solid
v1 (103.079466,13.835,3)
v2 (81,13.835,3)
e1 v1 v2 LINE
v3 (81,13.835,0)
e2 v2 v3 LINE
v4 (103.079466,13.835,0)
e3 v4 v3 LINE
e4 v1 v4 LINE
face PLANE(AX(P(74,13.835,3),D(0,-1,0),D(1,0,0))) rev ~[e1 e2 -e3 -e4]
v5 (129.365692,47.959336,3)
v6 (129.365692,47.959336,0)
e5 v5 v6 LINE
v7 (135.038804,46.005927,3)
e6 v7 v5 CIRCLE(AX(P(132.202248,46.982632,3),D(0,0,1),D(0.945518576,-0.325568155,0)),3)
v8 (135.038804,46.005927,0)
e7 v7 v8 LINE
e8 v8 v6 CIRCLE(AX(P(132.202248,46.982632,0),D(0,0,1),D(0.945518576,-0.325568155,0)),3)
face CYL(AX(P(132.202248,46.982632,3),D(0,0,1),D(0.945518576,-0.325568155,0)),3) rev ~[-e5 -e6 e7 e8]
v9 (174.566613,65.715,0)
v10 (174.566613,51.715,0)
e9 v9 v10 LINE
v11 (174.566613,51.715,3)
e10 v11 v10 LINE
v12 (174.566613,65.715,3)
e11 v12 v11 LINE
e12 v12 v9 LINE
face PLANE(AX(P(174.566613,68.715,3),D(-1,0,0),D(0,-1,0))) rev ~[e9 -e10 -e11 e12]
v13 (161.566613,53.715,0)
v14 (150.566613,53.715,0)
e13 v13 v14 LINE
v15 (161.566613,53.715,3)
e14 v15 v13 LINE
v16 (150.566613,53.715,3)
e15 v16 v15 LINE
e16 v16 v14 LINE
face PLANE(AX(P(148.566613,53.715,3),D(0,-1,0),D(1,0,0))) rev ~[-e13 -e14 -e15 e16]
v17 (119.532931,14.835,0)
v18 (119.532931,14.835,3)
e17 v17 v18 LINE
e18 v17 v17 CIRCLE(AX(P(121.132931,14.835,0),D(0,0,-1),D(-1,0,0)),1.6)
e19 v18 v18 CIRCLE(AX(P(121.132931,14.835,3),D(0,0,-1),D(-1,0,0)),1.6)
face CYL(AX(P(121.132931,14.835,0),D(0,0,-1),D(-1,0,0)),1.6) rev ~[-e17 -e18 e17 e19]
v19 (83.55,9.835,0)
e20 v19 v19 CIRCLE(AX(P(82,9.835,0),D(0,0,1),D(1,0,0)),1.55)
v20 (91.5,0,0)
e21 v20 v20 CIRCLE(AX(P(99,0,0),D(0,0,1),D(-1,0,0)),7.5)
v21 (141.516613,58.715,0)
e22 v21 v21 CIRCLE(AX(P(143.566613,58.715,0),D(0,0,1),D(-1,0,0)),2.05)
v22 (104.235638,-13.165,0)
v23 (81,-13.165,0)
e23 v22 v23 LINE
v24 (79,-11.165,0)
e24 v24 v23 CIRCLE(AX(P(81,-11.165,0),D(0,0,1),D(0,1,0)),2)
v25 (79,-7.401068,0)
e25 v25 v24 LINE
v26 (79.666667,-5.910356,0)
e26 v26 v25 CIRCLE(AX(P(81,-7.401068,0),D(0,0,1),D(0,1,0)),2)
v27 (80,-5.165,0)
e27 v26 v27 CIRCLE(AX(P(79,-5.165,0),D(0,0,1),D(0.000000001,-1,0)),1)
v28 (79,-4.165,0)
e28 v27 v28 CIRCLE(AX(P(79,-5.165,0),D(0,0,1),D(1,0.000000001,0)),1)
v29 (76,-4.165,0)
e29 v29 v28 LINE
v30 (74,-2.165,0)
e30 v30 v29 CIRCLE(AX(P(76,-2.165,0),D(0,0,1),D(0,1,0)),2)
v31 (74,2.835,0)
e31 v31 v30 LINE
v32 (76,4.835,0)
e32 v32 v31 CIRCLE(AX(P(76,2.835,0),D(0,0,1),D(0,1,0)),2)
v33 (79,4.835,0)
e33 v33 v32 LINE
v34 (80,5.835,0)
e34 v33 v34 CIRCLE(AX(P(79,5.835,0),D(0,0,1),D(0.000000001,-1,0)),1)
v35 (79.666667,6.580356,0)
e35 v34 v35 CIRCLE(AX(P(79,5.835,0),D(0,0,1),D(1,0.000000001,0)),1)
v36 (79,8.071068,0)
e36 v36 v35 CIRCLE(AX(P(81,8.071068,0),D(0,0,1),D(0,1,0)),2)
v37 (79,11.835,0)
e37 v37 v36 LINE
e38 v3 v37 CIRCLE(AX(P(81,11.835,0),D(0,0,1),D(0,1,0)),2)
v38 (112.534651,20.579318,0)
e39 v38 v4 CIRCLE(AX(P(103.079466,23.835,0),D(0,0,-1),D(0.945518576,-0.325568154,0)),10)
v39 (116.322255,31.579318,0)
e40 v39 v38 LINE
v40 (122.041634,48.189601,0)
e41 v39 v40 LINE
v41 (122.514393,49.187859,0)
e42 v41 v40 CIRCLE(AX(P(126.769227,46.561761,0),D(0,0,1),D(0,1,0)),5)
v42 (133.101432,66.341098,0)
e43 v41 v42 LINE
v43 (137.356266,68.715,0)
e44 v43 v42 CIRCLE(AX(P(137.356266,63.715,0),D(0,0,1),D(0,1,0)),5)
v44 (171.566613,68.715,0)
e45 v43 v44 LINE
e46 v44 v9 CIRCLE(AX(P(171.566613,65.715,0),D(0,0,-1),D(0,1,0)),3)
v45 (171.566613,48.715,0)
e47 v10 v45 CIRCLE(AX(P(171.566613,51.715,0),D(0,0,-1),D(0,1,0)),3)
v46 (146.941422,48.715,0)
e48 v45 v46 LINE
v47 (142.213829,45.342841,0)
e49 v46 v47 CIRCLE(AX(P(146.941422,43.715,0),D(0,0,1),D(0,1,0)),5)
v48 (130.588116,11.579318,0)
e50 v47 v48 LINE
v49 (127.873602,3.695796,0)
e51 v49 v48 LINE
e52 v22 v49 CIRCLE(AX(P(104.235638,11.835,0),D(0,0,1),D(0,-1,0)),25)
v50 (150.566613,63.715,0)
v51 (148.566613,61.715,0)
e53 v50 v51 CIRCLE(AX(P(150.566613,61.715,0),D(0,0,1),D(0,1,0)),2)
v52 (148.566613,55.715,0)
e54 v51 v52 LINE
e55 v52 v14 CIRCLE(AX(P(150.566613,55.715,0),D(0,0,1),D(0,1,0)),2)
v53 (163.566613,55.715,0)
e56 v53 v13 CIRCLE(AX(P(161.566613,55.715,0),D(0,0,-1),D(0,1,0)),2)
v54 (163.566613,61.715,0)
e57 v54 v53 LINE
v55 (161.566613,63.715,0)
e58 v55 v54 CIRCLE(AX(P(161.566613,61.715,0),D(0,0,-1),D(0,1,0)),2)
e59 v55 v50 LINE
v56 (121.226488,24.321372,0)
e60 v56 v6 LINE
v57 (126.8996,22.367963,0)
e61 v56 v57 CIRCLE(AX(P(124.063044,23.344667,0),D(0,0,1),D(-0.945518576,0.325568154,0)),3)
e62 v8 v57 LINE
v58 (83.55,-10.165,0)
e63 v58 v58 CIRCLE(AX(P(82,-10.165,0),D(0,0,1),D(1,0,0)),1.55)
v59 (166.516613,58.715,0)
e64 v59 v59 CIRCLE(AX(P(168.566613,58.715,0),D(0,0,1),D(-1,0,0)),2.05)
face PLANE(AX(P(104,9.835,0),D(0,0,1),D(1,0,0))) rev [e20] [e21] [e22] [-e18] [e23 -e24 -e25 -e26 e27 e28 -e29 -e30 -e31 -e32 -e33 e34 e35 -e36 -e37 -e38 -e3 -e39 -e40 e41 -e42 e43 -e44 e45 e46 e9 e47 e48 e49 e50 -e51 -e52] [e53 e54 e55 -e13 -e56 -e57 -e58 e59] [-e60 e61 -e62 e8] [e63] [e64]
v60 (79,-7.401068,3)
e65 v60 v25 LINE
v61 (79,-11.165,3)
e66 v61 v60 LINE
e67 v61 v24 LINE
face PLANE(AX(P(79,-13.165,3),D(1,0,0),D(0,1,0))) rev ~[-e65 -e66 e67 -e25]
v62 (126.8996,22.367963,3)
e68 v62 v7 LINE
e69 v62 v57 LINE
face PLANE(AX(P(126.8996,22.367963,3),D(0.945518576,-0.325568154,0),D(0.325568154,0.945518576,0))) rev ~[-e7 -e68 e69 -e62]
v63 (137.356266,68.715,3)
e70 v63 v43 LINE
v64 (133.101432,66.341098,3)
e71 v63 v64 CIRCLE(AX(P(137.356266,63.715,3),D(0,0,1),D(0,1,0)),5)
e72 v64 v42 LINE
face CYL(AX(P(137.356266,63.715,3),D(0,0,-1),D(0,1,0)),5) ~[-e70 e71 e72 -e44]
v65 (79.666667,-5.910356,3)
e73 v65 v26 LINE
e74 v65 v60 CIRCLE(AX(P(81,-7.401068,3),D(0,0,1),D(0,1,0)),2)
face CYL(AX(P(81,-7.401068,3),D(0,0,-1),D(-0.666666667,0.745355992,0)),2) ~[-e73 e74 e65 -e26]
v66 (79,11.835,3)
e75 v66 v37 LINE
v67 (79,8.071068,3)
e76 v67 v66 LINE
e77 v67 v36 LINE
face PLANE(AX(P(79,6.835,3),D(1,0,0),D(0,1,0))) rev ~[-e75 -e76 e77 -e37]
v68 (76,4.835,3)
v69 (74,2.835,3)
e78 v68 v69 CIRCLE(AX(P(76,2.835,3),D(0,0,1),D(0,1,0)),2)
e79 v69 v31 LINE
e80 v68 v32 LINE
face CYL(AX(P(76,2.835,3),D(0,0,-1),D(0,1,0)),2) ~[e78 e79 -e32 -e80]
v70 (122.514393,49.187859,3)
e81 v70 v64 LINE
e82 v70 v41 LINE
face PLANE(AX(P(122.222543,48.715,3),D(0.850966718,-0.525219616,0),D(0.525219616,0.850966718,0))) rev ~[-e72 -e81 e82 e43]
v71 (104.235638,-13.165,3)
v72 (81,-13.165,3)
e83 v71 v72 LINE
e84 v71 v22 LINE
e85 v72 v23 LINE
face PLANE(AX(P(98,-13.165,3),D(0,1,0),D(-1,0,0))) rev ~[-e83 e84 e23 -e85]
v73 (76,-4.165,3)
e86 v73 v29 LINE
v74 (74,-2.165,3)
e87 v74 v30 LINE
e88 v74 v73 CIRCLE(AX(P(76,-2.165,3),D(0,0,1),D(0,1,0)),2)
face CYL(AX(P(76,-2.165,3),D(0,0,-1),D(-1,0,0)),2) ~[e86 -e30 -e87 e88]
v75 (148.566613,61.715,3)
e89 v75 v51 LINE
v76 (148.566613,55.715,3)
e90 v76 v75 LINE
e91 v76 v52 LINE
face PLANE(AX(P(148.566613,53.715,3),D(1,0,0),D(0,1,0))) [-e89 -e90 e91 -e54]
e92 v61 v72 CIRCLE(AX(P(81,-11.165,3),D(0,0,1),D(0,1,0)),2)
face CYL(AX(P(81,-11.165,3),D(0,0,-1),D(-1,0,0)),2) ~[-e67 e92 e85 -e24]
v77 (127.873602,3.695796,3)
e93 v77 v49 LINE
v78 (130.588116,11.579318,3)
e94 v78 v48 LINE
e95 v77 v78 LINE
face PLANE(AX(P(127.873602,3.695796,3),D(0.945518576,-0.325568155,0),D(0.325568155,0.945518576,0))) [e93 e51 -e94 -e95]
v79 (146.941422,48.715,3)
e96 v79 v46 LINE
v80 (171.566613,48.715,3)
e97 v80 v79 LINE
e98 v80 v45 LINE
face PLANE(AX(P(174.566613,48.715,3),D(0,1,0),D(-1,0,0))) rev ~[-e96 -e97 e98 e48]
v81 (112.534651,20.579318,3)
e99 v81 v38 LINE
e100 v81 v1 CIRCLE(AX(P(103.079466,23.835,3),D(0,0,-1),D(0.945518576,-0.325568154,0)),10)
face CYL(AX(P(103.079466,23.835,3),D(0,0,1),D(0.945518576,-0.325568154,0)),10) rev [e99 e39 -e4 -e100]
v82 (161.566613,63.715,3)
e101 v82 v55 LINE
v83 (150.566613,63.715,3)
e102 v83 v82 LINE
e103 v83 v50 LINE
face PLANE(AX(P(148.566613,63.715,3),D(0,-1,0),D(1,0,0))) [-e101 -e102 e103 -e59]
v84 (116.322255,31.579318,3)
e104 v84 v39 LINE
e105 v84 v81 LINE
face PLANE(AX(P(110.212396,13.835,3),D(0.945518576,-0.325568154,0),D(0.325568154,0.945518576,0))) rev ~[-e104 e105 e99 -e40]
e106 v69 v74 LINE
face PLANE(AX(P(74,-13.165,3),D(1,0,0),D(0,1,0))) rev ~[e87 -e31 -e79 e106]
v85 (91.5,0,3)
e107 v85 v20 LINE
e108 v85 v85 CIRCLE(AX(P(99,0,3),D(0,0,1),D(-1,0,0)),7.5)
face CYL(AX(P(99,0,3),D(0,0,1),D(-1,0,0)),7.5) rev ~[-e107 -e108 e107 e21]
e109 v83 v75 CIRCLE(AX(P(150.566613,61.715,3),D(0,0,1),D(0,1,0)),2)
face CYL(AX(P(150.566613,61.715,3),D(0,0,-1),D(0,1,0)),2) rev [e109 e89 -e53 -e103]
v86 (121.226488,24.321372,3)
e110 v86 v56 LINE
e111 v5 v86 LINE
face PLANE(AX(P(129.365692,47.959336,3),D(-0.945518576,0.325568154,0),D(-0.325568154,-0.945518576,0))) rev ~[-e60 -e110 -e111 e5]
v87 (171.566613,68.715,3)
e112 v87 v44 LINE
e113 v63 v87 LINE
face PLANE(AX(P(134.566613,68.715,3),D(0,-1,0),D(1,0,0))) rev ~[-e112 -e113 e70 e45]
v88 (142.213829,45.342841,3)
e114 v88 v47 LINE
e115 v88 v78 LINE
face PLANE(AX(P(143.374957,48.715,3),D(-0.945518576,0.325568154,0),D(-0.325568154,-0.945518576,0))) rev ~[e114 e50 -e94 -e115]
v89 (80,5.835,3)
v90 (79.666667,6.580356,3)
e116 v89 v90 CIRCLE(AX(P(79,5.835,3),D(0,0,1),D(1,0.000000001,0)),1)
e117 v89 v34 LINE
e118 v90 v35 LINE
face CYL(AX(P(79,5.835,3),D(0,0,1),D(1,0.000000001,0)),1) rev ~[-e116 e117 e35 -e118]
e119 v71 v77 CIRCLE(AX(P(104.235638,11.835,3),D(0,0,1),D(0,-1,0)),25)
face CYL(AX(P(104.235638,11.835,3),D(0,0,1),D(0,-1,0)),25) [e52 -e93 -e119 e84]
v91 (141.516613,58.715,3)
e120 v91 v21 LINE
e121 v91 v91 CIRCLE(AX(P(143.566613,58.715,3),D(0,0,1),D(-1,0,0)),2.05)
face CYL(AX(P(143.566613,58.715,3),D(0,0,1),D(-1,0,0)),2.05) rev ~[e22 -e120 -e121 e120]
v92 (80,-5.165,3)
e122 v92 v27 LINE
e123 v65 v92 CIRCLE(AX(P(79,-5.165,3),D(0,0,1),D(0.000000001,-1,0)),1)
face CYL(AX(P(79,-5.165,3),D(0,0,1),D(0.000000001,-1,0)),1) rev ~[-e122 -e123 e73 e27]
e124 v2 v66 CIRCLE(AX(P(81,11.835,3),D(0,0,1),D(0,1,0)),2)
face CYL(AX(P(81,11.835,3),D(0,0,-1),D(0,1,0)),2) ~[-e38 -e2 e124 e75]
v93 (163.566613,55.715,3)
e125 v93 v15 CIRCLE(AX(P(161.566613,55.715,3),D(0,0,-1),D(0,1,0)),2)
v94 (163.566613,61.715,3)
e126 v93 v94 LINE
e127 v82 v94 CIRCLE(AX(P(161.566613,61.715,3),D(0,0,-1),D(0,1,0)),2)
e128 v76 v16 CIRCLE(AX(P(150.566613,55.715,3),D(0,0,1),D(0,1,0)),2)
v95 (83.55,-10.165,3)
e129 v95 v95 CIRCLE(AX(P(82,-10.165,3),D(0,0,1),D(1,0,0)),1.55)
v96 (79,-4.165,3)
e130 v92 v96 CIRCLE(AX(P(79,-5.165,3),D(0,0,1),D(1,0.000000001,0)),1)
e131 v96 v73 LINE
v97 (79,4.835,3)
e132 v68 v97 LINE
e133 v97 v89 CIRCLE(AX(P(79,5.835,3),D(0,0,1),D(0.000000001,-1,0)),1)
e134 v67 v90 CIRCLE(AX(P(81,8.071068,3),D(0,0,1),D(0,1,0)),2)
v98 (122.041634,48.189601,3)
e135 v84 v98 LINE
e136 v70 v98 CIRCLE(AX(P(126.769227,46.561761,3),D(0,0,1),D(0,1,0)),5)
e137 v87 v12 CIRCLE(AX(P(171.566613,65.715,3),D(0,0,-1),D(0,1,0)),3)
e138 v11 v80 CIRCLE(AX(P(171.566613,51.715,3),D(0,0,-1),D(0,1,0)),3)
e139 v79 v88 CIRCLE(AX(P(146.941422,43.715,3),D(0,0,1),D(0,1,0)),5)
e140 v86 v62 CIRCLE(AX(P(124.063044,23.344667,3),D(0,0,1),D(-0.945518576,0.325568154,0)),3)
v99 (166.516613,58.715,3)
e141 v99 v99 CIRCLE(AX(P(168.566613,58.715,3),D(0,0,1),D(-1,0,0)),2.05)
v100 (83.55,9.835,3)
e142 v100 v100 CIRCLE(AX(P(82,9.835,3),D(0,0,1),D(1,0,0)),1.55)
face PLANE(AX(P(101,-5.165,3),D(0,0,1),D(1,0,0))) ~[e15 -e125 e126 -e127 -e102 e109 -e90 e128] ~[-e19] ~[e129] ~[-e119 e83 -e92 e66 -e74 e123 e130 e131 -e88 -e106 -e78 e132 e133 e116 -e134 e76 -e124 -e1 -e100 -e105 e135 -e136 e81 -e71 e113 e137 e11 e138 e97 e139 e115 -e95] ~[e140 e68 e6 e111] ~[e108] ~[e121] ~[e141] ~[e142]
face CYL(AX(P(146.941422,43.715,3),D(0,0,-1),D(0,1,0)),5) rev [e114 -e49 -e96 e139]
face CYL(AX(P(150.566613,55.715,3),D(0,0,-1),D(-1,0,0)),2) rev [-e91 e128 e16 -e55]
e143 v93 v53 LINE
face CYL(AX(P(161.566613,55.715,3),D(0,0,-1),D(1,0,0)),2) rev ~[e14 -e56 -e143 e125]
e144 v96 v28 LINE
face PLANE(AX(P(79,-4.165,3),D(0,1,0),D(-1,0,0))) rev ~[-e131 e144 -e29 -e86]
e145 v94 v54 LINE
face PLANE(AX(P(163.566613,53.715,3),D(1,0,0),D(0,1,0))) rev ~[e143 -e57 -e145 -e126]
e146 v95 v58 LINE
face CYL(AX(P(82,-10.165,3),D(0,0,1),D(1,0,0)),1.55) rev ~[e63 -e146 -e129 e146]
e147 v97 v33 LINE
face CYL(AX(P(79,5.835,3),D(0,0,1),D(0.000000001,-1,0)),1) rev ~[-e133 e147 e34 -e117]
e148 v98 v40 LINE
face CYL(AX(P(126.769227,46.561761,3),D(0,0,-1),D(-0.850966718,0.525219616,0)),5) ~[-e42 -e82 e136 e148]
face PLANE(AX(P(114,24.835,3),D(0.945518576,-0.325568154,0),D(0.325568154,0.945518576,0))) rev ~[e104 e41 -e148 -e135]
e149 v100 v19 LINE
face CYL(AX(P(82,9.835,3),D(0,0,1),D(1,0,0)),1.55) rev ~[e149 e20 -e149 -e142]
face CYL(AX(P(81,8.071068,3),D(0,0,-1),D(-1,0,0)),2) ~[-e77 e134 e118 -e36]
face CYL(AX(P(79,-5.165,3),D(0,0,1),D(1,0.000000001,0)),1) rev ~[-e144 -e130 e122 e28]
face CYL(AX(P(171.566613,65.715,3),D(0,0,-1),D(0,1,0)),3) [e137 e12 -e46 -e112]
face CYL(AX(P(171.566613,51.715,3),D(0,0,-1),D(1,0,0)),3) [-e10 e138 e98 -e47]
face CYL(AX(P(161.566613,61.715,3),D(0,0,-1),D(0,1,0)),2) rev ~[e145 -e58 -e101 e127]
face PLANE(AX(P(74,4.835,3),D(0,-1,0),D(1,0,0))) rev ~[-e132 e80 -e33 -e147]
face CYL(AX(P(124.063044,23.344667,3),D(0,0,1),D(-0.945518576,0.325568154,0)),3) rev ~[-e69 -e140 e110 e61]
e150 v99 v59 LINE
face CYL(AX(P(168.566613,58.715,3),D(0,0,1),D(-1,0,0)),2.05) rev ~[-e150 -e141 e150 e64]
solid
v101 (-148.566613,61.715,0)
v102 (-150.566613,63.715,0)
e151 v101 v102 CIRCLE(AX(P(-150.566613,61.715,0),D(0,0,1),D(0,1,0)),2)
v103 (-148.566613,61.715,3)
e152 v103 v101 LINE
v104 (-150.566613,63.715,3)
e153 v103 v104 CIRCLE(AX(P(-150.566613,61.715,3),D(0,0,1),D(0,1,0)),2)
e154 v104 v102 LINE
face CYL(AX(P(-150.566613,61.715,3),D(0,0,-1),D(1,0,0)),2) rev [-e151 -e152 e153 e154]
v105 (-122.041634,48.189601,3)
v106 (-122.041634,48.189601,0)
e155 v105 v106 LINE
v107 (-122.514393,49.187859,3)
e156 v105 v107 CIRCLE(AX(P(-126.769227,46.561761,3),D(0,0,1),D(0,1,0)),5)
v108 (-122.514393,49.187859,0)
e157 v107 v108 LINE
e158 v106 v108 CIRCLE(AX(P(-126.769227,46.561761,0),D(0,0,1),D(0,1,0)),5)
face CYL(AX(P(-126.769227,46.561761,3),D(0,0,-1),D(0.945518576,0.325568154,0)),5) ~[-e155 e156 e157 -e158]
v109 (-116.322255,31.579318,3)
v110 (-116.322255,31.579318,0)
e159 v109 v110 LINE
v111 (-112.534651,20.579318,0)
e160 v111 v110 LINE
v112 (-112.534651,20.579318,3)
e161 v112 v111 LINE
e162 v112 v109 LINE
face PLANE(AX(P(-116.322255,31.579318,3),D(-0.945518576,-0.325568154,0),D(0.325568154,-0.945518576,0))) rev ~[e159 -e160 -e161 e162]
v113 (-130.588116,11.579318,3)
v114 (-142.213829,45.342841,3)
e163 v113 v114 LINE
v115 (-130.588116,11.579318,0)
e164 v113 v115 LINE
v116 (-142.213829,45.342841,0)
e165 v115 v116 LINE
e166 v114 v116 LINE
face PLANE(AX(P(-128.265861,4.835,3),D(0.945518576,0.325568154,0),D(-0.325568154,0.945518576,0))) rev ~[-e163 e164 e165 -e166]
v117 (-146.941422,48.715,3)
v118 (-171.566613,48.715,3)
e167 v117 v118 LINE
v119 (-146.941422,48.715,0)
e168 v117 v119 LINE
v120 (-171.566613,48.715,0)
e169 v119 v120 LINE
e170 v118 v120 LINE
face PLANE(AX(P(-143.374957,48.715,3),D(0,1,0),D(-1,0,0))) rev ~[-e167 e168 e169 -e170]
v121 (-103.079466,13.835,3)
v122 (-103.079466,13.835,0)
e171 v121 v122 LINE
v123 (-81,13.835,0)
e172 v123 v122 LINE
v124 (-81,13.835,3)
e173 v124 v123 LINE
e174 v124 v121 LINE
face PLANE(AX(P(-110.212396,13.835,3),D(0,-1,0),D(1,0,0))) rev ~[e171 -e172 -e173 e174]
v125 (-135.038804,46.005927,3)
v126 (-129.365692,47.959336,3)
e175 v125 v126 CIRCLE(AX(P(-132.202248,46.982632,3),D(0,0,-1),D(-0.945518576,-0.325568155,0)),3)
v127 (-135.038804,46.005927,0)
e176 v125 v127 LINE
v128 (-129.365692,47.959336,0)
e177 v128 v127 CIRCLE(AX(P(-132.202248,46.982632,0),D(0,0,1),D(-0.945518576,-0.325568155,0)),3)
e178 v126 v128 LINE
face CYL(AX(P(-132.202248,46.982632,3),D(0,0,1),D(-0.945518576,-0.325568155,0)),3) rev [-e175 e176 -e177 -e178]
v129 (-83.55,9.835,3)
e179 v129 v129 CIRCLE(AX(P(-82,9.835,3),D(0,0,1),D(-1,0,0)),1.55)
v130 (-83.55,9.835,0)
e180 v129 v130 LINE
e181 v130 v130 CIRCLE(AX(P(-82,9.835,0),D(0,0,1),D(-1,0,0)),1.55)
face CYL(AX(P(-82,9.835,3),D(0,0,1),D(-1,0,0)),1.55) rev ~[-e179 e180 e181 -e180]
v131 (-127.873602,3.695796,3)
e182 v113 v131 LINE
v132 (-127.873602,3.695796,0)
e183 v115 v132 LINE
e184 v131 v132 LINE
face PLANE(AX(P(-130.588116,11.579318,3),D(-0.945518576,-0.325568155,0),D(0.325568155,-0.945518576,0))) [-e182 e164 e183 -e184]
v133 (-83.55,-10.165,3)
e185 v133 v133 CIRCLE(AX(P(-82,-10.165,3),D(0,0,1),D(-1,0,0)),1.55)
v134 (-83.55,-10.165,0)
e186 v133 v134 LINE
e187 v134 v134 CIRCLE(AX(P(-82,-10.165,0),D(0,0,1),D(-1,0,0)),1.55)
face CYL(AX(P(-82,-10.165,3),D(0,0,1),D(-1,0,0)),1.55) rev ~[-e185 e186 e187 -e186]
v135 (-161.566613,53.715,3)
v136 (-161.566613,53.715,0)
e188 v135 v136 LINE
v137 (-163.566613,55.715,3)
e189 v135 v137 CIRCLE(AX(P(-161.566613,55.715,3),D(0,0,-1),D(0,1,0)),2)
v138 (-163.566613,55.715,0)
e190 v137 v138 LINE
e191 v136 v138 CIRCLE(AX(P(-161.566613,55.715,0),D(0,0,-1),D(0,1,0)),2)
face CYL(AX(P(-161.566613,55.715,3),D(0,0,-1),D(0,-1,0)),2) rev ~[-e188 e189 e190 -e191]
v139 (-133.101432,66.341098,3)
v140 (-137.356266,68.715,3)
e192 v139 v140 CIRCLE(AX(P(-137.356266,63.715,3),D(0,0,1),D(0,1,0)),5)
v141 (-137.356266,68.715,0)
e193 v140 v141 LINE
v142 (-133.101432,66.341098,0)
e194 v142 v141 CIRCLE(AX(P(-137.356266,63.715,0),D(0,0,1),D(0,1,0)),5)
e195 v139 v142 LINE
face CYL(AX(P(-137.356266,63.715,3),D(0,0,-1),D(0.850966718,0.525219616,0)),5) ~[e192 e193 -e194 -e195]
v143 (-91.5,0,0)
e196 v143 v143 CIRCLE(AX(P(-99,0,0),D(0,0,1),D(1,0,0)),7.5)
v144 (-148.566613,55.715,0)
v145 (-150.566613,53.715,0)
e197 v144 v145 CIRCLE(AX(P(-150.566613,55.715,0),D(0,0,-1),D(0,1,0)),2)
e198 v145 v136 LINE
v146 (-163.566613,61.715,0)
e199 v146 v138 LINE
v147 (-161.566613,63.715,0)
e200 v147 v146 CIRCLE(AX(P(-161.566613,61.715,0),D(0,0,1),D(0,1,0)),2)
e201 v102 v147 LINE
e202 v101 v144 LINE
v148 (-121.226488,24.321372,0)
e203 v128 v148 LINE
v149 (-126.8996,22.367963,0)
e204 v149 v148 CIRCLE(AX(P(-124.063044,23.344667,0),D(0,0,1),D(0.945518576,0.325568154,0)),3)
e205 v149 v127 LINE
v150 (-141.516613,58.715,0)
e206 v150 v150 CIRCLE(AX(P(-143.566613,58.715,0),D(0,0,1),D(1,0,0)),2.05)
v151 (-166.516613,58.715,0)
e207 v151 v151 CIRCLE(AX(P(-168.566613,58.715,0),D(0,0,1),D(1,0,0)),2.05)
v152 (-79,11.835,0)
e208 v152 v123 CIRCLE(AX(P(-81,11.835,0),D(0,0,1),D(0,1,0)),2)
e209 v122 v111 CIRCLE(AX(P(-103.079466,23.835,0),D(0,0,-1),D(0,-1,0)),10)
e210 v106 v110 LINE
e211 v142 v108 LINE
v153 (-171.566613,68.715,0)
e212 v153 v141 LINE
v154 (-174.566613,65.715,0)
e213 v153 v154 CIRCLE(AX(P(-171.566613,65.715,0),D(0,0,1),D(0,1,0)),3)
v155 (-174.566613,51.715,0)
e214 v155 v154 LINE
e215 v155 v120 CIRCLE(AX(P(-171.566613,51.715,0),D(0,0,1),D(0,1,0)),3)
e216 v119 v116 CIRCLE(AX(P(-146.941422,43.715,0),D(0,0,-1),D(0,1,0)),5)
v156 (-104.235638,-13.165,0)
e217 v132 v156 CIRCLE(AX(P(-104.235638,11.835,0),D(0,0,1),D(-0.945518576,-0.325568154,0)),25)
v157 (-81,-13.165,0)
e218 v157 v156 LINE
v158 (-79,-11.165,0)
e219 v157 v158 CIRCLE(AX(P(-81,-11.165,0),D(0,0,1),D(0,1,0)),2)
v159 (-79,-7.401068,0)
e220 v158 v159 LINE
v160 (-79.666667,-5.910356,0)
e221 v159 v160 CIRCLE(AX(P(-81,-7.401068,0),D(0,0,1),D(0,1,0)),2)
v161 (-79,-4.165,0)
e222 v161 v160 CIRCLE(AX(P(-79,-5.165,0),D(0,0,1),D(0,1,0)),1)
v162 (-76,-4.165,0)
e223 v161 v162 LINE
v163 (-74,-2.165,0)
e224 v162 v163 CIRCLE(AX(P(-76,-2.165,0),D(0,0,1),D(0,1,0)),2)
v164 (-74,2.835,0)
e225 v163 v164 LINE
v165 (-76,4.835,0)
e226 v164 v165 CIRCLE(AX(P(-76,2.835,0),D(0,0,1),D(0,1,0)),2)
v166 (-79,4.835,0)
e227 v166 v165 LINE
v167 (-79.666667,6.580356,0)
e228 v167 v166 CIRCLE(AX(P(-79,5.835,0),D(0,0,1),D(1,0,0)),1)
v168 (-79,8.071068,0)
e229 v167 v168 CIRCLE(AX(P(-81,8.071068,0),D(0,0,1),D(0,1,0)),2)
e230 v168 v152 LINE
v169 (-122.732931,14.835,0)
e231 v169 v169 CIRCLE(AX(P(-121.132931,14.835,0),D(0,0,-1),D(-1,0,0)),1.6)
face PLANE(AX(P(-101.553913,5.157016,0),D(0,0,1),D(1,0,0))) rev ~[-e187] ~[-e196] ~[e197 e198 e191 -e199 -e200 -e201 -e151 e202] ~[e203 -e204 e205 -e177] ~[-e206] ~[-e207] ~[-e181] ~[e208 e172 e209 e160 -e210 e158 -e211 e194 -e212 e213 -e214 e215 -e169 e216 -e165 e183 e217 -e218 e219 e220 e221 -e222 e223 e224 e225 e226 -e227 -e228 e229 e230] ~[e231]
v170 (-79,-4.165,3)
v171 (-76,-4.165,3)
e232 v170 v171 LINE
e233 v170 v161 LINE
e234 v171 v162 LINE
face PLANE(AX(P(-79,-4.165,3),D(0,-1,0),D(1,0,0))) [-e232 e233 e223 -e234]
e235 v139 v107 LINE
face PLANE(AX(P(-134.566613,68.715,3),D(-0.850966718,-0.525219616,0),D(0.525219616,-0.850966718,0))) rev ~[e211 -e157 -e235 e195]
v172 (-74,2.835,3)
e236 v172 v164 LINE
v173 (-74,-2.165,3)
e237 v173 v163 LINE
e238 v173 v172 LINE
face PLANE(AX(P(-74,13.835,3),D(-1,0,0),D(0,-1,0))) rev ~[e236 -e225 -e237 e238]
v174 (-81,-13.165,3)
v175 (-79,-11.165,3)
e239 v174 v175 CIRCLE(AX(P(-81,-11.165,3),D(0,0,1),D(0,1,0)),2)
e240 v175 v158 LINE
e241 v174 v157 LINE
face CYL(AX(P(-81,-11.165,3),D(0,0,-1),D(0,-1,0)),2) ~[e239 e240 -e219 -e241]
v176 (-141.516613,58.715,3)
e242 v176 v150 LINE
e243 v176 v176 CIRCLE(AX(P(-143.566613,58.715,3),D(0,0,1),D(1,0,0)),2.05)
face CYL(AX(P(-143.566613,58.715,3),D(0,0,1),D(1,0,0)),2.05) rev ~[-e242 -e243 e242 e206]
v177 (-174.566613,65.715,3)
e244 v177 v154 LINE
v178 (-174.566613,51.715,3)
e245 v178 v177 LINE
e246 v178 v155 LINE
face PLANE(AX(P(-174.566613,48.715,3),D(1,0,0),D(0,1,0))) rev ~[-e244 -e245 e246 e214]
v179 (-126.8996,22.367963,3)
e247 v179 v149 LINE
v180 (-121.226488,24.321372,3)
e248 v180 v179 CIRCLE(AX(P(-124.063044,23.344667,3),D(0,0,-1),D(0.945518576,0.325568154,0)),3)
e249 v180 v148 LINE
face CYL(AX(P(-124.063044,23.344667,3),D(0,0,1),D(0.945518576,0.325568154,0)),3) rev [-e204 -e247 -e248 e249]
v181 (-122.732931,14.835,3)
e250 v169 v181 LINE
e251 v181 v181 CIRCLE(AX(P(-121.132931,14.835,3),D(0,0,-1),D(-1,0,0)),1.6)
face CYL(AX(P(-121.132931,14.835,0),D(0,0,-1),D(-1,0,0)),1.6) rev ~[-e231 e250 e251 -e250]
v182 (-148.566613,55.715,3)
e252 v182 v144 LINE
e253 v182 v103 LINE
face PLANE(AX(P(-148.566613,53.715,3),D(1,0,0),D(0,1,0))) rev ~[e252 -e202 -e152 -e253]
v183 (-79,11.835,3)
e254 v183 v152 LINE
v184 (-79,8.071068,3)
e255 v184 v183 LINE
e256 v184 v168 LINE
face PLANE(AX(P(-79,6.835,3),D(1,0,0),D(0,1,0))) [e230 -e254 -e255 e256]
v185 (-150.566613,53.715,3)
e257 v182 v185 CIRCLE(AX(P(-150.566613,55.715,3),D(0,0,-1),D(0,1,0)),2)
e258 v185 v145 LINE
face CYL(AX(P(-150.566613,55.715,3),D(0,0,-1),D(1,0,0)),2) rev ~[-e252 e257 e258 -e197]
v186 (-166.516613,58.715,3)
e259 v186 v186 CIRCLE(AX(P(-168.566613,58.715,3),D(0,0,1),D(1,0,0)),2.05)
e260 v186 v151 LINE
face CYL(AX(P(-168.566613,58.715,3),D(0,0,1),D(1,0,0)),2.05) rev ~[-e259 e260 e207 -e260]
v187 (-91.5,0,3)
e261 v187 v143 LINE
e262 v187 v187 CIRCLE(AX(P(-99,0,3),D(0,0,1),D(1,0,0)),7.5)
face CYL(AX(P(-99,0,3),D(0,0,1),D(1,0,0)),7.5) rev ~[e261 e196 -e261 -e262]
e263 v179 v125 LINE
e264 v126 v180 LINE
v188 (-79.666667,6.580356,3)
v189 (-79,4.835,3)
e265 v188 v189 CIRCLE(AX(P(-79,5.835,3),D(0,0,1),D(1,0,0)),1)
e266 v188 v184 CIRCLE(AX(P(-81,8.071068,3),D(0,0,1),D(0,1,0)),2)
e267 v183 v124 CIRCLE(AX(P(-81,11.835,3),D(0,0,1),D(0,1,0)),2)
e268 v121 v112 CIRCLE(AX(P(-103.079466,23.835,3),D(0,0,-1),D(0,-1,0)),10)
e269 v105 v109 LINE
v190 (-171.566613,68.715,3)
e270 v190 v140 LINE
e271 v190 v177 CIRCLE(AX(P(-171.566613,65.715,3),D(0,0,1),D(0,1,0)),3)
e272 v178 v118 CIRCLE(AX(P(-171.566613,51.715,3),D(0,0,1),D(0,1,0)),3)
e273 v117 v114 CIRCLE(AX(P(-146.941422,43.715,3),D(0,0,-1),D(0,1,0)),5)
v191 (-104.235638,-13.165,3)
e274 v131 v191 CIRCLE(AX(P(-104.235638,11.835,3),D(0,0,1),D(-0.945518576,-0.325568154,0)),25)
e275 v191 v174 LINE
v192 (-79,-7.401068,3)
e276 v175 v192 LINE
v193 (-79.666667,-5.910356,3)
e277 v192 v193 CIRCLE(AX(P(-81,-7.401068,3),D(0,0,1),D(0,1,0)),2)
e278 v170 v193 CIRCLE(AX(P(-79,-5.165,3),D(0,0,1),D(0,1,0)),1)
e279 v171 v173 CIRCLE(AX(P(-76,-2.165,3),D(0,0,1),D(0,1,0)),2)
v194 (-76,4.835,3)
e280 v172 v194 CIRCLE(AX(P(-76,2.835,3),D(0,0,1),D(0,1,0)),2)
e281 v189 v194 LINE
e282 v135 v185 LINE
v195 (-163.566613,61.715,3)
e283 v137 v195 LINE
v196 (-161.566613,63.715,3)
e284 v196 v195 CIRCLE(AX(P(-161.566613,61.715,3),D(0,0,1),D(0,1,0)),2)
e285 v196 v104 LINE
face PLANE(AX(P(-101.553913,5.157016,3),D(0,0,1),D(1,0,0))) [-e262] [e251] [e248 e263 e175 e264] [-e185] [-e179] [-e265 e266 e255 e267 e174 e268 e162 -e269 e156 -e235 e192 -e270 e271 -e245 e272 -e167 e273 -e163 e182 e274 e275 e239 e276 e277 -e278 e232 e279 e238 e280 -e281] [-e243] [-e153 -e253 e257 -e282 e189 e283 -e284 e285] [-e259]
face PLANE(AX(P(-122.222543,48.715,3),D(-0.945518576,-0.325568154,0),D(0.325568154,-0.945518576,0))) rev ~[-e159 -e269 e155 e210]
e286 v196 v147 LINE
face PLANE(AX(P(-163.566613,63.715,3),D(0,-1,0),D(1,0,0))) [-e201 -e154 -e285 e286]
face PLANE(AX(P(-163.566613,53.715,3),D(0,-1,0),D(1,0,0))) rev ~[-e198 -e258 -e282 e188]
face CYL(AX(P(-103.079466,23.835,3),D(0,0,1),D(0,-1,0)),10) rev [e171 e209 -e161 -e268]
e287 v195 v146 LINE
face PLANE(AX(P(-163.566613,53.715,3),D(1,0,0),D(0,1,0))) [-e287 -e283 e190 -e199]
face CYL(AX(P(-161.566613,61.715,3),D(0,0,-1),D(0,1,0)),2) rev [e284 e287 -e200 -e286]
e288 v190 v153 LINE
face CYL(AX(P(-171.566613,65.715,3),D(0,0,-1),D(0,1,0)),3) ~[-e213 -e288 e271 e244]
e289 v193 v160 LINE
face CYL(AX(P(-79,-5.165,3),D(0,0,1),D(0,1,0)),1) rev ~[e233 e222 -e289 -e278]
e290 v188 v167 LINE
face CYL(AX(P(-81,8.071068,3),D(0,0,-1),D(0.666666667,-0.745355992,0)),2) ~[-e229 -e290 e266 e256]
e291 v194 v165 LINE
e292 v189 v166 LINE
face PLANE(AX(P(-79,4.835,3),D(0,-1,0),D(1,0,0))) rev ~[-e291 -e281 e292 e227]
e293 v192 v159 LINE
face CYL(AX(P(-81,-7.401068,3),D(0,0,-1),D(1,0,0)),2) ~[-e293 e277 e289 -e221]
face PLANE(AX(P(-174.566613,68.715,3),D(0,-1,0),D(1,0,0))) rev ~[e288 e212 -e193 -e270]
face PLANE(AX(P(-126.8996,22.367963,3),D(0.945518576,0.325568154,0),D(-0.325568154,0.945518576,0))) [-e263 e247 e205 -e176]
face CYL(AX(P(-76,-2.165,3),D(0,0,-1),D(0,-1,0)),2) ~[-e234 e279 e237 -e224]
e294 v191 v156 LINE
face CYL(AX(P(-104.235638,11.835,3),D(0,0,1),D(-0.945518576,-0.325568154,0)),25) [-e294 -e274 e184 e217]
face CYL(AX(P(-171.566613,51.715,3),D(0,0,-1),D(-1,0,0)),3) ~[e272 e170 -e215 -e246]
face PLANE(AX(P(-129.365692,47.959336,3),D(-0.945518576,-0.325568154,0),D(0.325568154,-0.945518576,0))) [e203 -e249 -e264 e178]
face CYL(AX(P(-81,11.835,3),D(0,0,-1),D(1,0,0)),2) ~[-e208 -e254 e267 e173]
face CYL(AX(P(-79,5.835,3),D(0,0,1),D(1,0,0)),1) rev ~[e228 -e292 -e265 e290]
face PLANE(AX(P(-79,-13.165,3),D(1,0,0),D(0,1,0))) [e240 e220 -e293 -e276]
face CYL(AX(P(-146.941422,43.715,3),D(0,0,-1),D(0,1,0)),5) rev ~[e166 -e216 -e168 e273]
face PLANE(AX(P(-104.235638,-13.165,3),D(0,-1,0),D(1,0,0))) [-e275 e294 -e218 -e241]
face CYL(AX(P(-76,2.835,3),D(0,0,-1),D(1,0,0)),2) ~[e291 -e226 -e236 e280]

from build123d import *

# Parameters (mm, degrees)
SKETCH_1_W              = 196
SKETCH_1_H              = 49.67
EXTRUDE_1_DEPTH         = 3
EXTRUDE_2_DEPTH         = 3
FILLET_1_R              = 10
FILLET_2_R              = 3
SKETCH_4_R              = 2.1
CUT_EXTRUDE_2_DEPTH     = 4
FILLET_3_R              = 5
SKETCH_6_R              = 2.05
CUT_EXTRUDE_4_DEPTH     = 10
CUT_EXTRUDE_10_DEPTH    = 10
FILLET_7_R              = 2
SKETCH_13_W             = 6
SKETCH_13_H             = 20
EXTRUDE_3_DEPTH         = 3
FILLET_9_R              = 10
FILLET_10_R             = 2
SKETCH_14_R             = 1.55
CUT_EXTRUDE_12_DEPTH    = 10
SKETCH_21_W             = 16
SKETCH_21_H             = 22
CUT_EXTRUDE_16_DEPTH    = 10
EXTRUDE_START           = -3
SKETCH_22_R             = 1.55
EXTRUDE_5_DEPTH         = 3
FILLET_13_R             = 10
FILLET_13_OF_MIRROR_9_R = 10
SKETCH_25_W             = 15
SKETCH_25_H             = 10
CUT_EXTRUDE_18_DEPTH    = 10
CUT_EXTRUDE_19_DEPTH    = 5
EXTRUDE_7_DEPTH         = 3
SKETCH_28_R             = 1.55
CUT_EXTRUDE_20_DEPTH    = 3
SKETCH_29_R             = 1
SKETCH_29_W             = 5
SKETCH_29_H             = 9
CUT_EXTRUDE_21_DEPTH    = 5
SKETCH_30_R             = 1.6
CUT_EXTRUDE_22_DEPTH    = 10
FILLET_15_R             = 2
SKETCH_31_R             = 7.5
CUT_EXTRUDE_23_DEPTH    = 10
FILLET_16_R             = 2


with BuildPart() as part:
    # 草图1 → 凸台-拉伸1 (new body)
    with BuildSketch(Plane.XY):
        Rectangle(SKETCH_1_W, SKETCH_1_H)
    extrude(amount=EXTRUDE_1_DEPTH)

    # 草图2 → 凸台-拉伸2 (add)
    with BuildSketch(Plane.XY.offset(3)):
        Polygon((98, 24.835), (114, 24.835), (122.222543405, 48.715), (134.566612912, 68.715), (174.566612912, 68.715), (174.566612912, 48.715), (143.374957029, 48.715), (128.265861358, 4.835), (98, 4.835), align=None)
        Polygon((-98, 24.835), (-98, 4.835), (-128.265861358, 4.835), (-143.374957029, 48.715), (-174.566612912, 48.715), (-174.566612912, 68.715), (-134.566612912, 68.715), (-122.222543405, 48.715), (-114, 24.835), align=None)
    extrude(amount=-EXTRUDE_2_DEPTH)

    # 圆角1
    fillet_1_edges = [part.edges().sort_by_distance(p)[0] for p in [
        (128.265861358, 4.835, 1.5),
        (114, 24.835, 1.5),
        (-128.265861358, 4.835, 1.5),
        (-114, 24.835, 1.5),
    ]]
    fillet(fillet_1_edges, radius=FILLET_1_R)

    # 圆角2
    fillet_2_edges = [part.edges().sort_by_distance(p)[0] for p in [
        (174.566612912, 48.715, 1.5),
        (174.566612912, 68.715, 1.5),
        (-174.566612912, 68.715, 1.5),
        (-174.566612912, 48.715, 1.5),
        (98, -24.835, 1.5),
        (-98, -24.835, 1.5),
    ]]
    fillet(fillet_2_edges, radius=FILLET_2_R)

    # 草图4 → 切除-拉伸2 (cut)
    with BuildSketch(Plane.XY.offset(3)):
        with Locations((47.5, -7.338706147)):
            Circle(SKETCH_4_R)
        with Locations((47.5, 17.661293853)):
            Circle(SKETCH_4_R)
        with Locations((-47.5, 17.661293853)):
            Circle(SKETCH_4_R)
        with Locations((-47.5, -7.338706147)):
            Circle(SKETCH_4_R)
    extrude(amount=-CUT_EXTRUDE_2_DEPTH, mode=Mode.SUBTRACT)

    # 圆角3
    fillet_3_edges = [part.edges().sort_by_distance(p)[0] for p in [
        (143.374957029, 48.715, 1.5),
        (134.566612912, 68.715, 1.5),
        (122.222543405, 48.715, 1.5),
        (-122.222543405, 48.715, 1.5),
        (-134.566612912, 68.715, 1.5),
        (-143.374957029, 48.715, 1.5),
    ]]
    fillet(fillet_3_edges, radius=FILLET_3_R)

    # 草图6 → 切除-拉伸4 (cut)
    with BuildSketch(Plane.XY.offset(3)):
        with Locations((-168.566612912, 58.715)):
            Circle(SKETCH_6_R)
        with Locations((-143.566612912, 58.715)):
            Circle(SKETCH_6_R)
        with Locations(Location((143.566612912, 58.715, 0), (0, 0, 180))):
            Circle(SKETCH_6_R)
        with Locations(Location((168.566612912, 58.715, 0), (0, 0, 180))):
            Circle(SKETCH_6_R)
    extrude(amount=-CUT_EXTRUDE_4_DEPTH, mode=Mode.SUBTRACT)

    # 草图10 → 切除-拉伸10 (cut)
    with BuildSketch(Plane.XY.offset(3)):
        Polygon((0, 3.310312062), (-34.285062119, -17.835), (34.285062119, -17.835), align=None)
        Polygon((-40, 18.835), (-40, -14.310312062), (-3, 8.509437938), (-3, 18.835), align=None)
        Polygon((3, 8.509437938), (40, -14.310312062), (40, 18.835), (3, 18.835), align=None)
    extrude(amount=-CUT_EXTRUDE_10_DEPTH, mode=Mode.SUBTRACT)

    # 圆角7
    fillet_7_edges = [part.edges().sort_by_distance(p)[0] for p in [
        (3, 8.509437938, 1.5),
        (3, 18.835, 1.5),
        (40, 18.835, 1.5),
        (40, -14.310312062, 1.5),
        (-3, 8.509437938, 1.5),
        (-40, -14.310312062, 1.5),
        (-40, 18.835, 1.5),
        (-3, 18.835, 1.5),
        (0, 3.310312062, 1.5),
        (34.285062119, -17.835, 1.5),
        (-34.285062119, -17.835, 1.5),
    ]]
    fillet(fillet_7_edges, radius=FILLET_7_R)

    # 草图13 → 凸台-拉伸3 (add)
    with BuildSketch(Plane.XY.offset(3)):
        with Locations((-101, -5.165)):
            Rectangle(SKETCH_13_W, SKETCH_13_H)
    extrude_3 = extrude(amount=-EXTRUDE_3_DEPTH)

    # 镜向3: 凸台-拉伸3 across plane
    add(extrude_3.mirror(Plane(origin=(0, 0, 0), x_dir=(0, 0, 1), z_dir=(1, 0, 0))))

    # 圆角9
    fillet_9_edges = [part.edges().sort_by_distance(p)[0] for p in [
        (-104, 4.835, 1.5),
        (104, 4.835, 1.5),
    ]]
    fillet(fillet_9_edges, radius=FILLET_9_R)

    # 圆角10
    fillet_10_edges = [part.edges().sort_by_distance(p)[0] for p in [
        (-104, -15.165, 1.5),
        (-98, -15.165, 1.5),
        (98, -15.165, 1.5),
        (104, -15.165, 1.5),
    ]]
    fillet(fillet_10_edges, radius=FILLET_10_R)

    # 草图14 → 切除-拉伸12 (cut)
    with BuildSketch(Plane(origin=(0, 0, 0), x_dir=(-1, 0, 0), z_dir=(0, 0, -1))):
        with Locations((104, 9.835)):
            Circle(SKETCH_14_R)
        with Locations((104, -10.165)):
            Circle(SKETCH_14_R)
    cut_extrude_12 = extrude(amount=-CUT_EXTRUDE_12_DEPTH, mode=Mode.SUBTRACT)

    # 镜向4: 切除-拉伸12 across plane
    add(cut_extrude_12.mirror(Plane(origin=(0, 0, 0), x_dir=(0, 0, 1), z_dir=(1, 0, 0))), mode=Mode.SUBTRACT)

    # 草图21 → 切除-拉伸16 (cut)
    with BuildSketch(Plane.XY.offset(3)):
        with Locations((-106, -6.165)):
            Rectangle(SKETCH_21_W, SKETCH_21_H)
    cut_extrude_16 = extrude(amount=-CUT_EXTRUDE_16_DEPTH, mode=Mode.SUBTRACT)

    # 草图22 → 凸台-拉伸5 (add)
    with BuildSketch(Plane.XY.offset(3).offset(EXTRUDE_START)):
        with Locations((-104, 9.835)):
            Circle(SKETCH_22_R)
    extrude_5 = extrude(amount=EXTRUDE_5_DEPTH)

    # 圆角13
    fillet_13_edges = [part.edges().sort_by_distance(p)[0] for p in [
        (-98, 4.835, 1.5),
    ]]
    fillet(fillet_13_edges, radius=FILLET_13_R)

    # 镜向9: 切除-拉伸16, 凸台-拉伸5 across plane
    add(cut_extrude_16.mirror(Plane(origin=(0, 0, 0), x_dir=(0, 0, 1), z_dir=(1, 0, 0))), mode=Mode.SUBTRACT)
    add(extrude_5.mirror(Plane(origin=(0, 0, 0), x_dir=(0, 0, 1), z_dir=(1, 0, 0))))

    # 圆角13 of 镜向9
    fillet_13_of_mirror_9_edges = [part.edges().sort_by_distance(p)[0] for p in [
        (98, 4.835, 1.5),
    ]]
    fillet(fillet_13_of_mirror_9_edges, radius=FILLET_13_OF_MIRROR_9_R)

    # 草图25 → 切除-拉伸18 (cut)
    with BuildSketch(Plane.XY.offset(3)):
        with Locations((-156.066612912, 58.715)):
            Rectangle(SKETCH_25_W, SKETCH_25_H)
        with Locations((156.066612912, 58.715)):
            Rectangle(SKETCH_25_W, SKETCH_25_H)
    extrude(amount=-CUT_EXTRUDE_18_DEPTH, mode=Mode.SUBTRACT)

    # 草图26 → 切除-拉伸19 (cut, symmetric)
    with BuildSketch(Plane.XY.offset(3)):
        Polygon((74, 13.835), (98, 13.835), (98, 24.835), (-98, 24.835), (-98, 13.835), (-74, 13.835), (-74, -13.165), (-98, -13.165), (-98, -35), (98, -35), (98, -13.165), (74, -13.165), align=None)
        with BuildLine():
            Line((110.212396254, 13.835), (116.322255077, 31.579318455))
            ThreePointArc((116.322255077, 31.579318455), (112.674098878, 26.693844816), (106.867069321, 24.835))
            Line((106.867069321, 24.835), (98, 24.835))
            Line((98, 24.835), (98, 13.835))
            Line((98, 13.835), (110.212396254, 13.835))
        make_face()
        with BuildLine():
            Line((-98, 13.835), (-98, 24.835))
            Line((-98, 24.835), (-106.867069321, 24.835))
            ThreePointArc((-106.867069321, 24.835), (-112.674098878, 26.693844816), (-116.322255077, 31.579318455))
            Line((-116.322255077, 31.579318455), (-110.212396254, 13.835))
            Line((-110.212396254, 13.835), (-98, 13.835))
        make_face()
    extrude(amount=CUT_EXTRUDE_19_DEPTH, both=True, mode=Mode.SUBTRACT)


with BuildPart() as cut_extrude_19_piece_1:
    # of the separate pieces the step leaves, piece 1, a body of its own (cut_extrude_19_pieces)
    add(part.part.solids().sort_by_distance((98, -13.165, 3))[0])



with BuildPart() as cut_extrude_19_piece_2:
    # of the separate pieces the step leaves, piece 2, a body of its own (cut_extrude_19_pieces)
    add(part.part.solids().sort_by_distance((-98, -5.165, 3))[0])


with BuildPart() as cut_extrude_19_piece_1_1:
    add(cut_extrude_19_piece_1.part)

    add(cut_extrude_19_piece_2.part)  # 凸台-拉伸7 merges 切除-拉伸19 piece 2
    # 草图27 → 凸台-拉伸7 (add)
    with BuildSketch(Plane.XY.offset(3)):
        with BuildLine():
            Line((116.322255077, 31.579318455), (112.534651331, 20.579318455))
            ThreePointArc((112.534651331, 20.579318455), (108.886495132, 15.693844816), (103.079465575, 13.835))
            Line((103.079465575, 13.835), (74, 13.835))
            Line((74, 13.835), (74, -13.165))
            Line((74, -13.165), (104.235637621, -13.165))
            ThreePointArc((104.235637621, -13.165), (118.753211514, -8.517887959), (127.873602011, 3.695796139))
            Line((127.873602011, 3.695796139), (130.588116435, 11.579318455))
            Line((130.588116435, 11.579318455), (116.322255077, 31.579318455))
        make_face()
        with BuildLine():
            Line((-130.588116435, 11.579318455), (-127.873602011, 3.695796139))
            ThreePointArc((-127.873602011, 3.695796139), (-118.753211514, -8.517887959), (-104.235637621, -13.165))
            Line((-104.235637621, -13.165), (-74, -13.165))
            Line((-74, -13.165), (-74, 13.835))
            Line((-74, 13.835), (-103.079465575, 13.835))
            ThreePointArc((-103.079465575, 13.835), (-108.886495132, 15.693844816), (-112.534651331, 20.579318455))
            Line((-112.534651331, 20.579318455), (-116.322255077, 31.579318455))
            Line((-116.322255077, 31.579318455), (-130.588116435, 11.579318455))
        make_face()
    extrude(amount=-EXTRUDE_7_DEPTH)

    # 草图28 → 切除-拉伸20 (cut)
    with BuildSketch(Plane.XY.offset(3)):
        with Locations((82, 9.835)):
            Circle(SKETCH_28_R)
        with Locations((82, -10.165)):
            Circle(SKETCH_28_R)
        with Locations(Location((-82, 9.835, 0), (0, 0, 180))):
            Circle(SKETCH_28_R)
        with Locations(Location((-82, -10.165, 0), (0, 0, 180))):
            Circle(SKETCH_28_R)
    extrude(amount=-CUT_EXTRUDE_20_DEPTH, mode=Mode.SUBTRACT)

    # 草图29 → 切除-拉伸21 (cut)
    with BuildSketch(Plane.XY.offset(3)):
        with BuildLine():
            Line((79, -4.165), (74, -4.165))
            Line((74, -4.165), (74, -13.165))
            Line((74, -13.165), (79, -13.165))
            Line((79, -13.165), (79, -6.165))
            ThreePointArc((79, -6.165), (78, -5.165), (79, -4.165))
        make_face()
        with BuildLine():
            ThreePointArc((80, -5.165), (79.707106781, -4.457893219), (79, -4.165))
            Line((79, -4.165), (79, -6.165))
            ThreePointArc((79, -6.165), (79.707106781, -5.872106781), (80, -5.165))
        make_face()
        with BuildLine():
            Line((79, -6.165), (79, -4.165))
            ThreePointArc((79, -4.165), (78, -5.165), (79, -6.165))
        make_face()
        with BuildLine():
            Line((79, 13.835), (74, 13.835))
            Line((74, 13.835), (74, 4.835))
            Line((74, 4.835), (79, 4.835))
            ThreePointArc((79, 4.835), (78, 5.835), (79, 6.835))
            Line((79, 6.835), (79, 13.835))
        make_face()
        with BuildLine():
            ThreePointArc((80, 5.835), (79.707106781, 6.542106781), (79, 6.835))
            Line((79, 6.835), (79, 4.835))
            ThreePointArc((79, 4.835), (79.707106781, 5.127893219), (80, 5.835))
        make_face()
        with BuildLine():
            Line((79, 4.835), (79, 6.835))
            ThreePointArc((79, 6.835), (78, 5.835), (79, 4.835))
        make_face()
        with Locations((-79, 5.835)):
            Circle(SKETCH_29_R)
        with Locations((-76.5, 9.335)):
            Rectangle(SKETCH_29_W, SKETCH_29_H)
        with BuildLine():
            ThreePointArc((-78, 5.835), (-78.292893219, 6.542106781), (-79, 6.835))
            Line((-79, 6.835), (-79, 4.835))
            ThreePointArc((-79, 4.835), (-78.292893219, 5.127893219), (-78, 5.835))
        make_face()
        with BuildLine():
            Line((-79, 4.835), (-79, 6.835))
            ThreePointArc((-79, 6.835), (-80, 5.835), (-79, 4.835))
        make_face()
        with BuildLine():
            ThreePointArc((-79, -4.165), (-80, -5.165), (-79, -6.165))
            Line((-79, -6.165), (-79, -4.165))
        make_face()
        with BuildLine():
            Line((-79, -4.165), (-79, -6.165))
            ThreePointArc((-79, -6.165), (-78.292893219, -5.872106781), (-78, -5.165))
            ThreePointArc((-78, -5.165), (-78.292893219, -4.457893219), (-79, -4.165))
        make_face()
        with Locations((-79, -5.165)):
            Circle(SKETCH_29_R)
        with Locations((-76.5, -8.665)):
            Rectangle(SKETCH_29_W, SKETCH_29_H)
    extrude(amount=-CUT_EXTRUDE_21_DEPTH, mode=Mode.SUBTRACT)

    # 草图30 → 切除-拉伸22 (cut)
    with BuildSketch(Plane(origin=(0, 0, 0), x_dir=(-1, 0, 0), z_dir=(0, 0, -1))):
        with Locations((121.132930679, 14.835)):
            Circle(SKETCH_30_R)
        with Locations((-121.132930679, 14.835)):
            Circle(SKETCH_30_R)
    extrude(amount=-CUT_EXTRUDE_22_DEPTH, mode=Mode.SUBTRACT)

    # 圆角15
    fillet_15_edges = [cut_extrude_19_piece_1_1.edges().sort_by_distance(p)[0] for p in [
        (-148.566612912, 63.715, 1.5),
        (-148.566612912, 53.715, 1.5),
        (-163.566612912, 53.715, 1.5),
        (-163.566612912, 63.715, 1.5),
        (-79, 13.835, 1.5),
        (-74, -4.165, 1.5),
        (-79, 6.835, 1.5),
        (-74, 4.835, 1.5),
        (-79, -6.165, 1.5),
        (-79, -13.165, 1.5),
    ]]
    fillet(fillet_15_edges, radius=FILLET_15_R)

    # 草图31 → 切除-拉伸23 (cut)
    with BuildSketch(Plane.XY.offset(3)):
        with Locations((-99, 0)):
            Circle(SKETCH_31_R)
        with Locations(Location((99, 0, 0), (0, 0, 180))):
            Circle(SKETCH_31_R)
        with BuildLine():
            Line((-129.365692204, 47.959336034), (-121.226488342, 24.321371644))
            ThreePointArc((-121.226488342, 24.321371644), (-123.086339606, 20.508111454), (-126.899599796, 22.367962717))
            Line((-126.899599796, 22.367962717), (-135.038803657, 46.005927107))
            ThreePointArc((-135.038803657, 46.005927107), (-133.178952394, 49.819187297), (-129.365692204, 47.959336034))
        make_face()
        with BuildLine():
            Line((129.365692204, 47.959336034), (121.226488342, 24.321371644))
            ThreePointArc((121.226488342, 24.321371644), (123.086339606, 20.508111454), (126.899599796, 22.367962717))
            Line((126.899599796, 22.367962717), (135.038803657, 46.005927107))
            ThreePointArc((135.038803657, 46.005927107), (133.178952394, 49.819187297), (129.365692204, 47.959336034))
        make_face()
    extrude(amount=-CUT_EXTRUDE_23_DEPTH, mode=Mode.SUBTRACT)

    # 圆角16
    fillet_16_edges = [cut_extrude_19_piece_1_1.edges().sort_by_distance(p)[0] for p in [
        (79, -13.165, 1.5),
        (74, 4.835, 1.5),
        (79, -6.165, 1.5),
        (74, -4.165, 1.5),
        (79, 13.835, 1.5),
        (79, 6.835, 1.5),
        (163.566612912, 53.715, 1.5),
        (148.566612912, 53.715, 1.5),
        (148.566612912, 63.715, 1.5),
        (163.566612912, 63.715, 1.5),
    ]]
    fillet(fillet_16_edges, radius=FILLET_16_R)


solid = cut_extrude_19_piece_1_1.part
